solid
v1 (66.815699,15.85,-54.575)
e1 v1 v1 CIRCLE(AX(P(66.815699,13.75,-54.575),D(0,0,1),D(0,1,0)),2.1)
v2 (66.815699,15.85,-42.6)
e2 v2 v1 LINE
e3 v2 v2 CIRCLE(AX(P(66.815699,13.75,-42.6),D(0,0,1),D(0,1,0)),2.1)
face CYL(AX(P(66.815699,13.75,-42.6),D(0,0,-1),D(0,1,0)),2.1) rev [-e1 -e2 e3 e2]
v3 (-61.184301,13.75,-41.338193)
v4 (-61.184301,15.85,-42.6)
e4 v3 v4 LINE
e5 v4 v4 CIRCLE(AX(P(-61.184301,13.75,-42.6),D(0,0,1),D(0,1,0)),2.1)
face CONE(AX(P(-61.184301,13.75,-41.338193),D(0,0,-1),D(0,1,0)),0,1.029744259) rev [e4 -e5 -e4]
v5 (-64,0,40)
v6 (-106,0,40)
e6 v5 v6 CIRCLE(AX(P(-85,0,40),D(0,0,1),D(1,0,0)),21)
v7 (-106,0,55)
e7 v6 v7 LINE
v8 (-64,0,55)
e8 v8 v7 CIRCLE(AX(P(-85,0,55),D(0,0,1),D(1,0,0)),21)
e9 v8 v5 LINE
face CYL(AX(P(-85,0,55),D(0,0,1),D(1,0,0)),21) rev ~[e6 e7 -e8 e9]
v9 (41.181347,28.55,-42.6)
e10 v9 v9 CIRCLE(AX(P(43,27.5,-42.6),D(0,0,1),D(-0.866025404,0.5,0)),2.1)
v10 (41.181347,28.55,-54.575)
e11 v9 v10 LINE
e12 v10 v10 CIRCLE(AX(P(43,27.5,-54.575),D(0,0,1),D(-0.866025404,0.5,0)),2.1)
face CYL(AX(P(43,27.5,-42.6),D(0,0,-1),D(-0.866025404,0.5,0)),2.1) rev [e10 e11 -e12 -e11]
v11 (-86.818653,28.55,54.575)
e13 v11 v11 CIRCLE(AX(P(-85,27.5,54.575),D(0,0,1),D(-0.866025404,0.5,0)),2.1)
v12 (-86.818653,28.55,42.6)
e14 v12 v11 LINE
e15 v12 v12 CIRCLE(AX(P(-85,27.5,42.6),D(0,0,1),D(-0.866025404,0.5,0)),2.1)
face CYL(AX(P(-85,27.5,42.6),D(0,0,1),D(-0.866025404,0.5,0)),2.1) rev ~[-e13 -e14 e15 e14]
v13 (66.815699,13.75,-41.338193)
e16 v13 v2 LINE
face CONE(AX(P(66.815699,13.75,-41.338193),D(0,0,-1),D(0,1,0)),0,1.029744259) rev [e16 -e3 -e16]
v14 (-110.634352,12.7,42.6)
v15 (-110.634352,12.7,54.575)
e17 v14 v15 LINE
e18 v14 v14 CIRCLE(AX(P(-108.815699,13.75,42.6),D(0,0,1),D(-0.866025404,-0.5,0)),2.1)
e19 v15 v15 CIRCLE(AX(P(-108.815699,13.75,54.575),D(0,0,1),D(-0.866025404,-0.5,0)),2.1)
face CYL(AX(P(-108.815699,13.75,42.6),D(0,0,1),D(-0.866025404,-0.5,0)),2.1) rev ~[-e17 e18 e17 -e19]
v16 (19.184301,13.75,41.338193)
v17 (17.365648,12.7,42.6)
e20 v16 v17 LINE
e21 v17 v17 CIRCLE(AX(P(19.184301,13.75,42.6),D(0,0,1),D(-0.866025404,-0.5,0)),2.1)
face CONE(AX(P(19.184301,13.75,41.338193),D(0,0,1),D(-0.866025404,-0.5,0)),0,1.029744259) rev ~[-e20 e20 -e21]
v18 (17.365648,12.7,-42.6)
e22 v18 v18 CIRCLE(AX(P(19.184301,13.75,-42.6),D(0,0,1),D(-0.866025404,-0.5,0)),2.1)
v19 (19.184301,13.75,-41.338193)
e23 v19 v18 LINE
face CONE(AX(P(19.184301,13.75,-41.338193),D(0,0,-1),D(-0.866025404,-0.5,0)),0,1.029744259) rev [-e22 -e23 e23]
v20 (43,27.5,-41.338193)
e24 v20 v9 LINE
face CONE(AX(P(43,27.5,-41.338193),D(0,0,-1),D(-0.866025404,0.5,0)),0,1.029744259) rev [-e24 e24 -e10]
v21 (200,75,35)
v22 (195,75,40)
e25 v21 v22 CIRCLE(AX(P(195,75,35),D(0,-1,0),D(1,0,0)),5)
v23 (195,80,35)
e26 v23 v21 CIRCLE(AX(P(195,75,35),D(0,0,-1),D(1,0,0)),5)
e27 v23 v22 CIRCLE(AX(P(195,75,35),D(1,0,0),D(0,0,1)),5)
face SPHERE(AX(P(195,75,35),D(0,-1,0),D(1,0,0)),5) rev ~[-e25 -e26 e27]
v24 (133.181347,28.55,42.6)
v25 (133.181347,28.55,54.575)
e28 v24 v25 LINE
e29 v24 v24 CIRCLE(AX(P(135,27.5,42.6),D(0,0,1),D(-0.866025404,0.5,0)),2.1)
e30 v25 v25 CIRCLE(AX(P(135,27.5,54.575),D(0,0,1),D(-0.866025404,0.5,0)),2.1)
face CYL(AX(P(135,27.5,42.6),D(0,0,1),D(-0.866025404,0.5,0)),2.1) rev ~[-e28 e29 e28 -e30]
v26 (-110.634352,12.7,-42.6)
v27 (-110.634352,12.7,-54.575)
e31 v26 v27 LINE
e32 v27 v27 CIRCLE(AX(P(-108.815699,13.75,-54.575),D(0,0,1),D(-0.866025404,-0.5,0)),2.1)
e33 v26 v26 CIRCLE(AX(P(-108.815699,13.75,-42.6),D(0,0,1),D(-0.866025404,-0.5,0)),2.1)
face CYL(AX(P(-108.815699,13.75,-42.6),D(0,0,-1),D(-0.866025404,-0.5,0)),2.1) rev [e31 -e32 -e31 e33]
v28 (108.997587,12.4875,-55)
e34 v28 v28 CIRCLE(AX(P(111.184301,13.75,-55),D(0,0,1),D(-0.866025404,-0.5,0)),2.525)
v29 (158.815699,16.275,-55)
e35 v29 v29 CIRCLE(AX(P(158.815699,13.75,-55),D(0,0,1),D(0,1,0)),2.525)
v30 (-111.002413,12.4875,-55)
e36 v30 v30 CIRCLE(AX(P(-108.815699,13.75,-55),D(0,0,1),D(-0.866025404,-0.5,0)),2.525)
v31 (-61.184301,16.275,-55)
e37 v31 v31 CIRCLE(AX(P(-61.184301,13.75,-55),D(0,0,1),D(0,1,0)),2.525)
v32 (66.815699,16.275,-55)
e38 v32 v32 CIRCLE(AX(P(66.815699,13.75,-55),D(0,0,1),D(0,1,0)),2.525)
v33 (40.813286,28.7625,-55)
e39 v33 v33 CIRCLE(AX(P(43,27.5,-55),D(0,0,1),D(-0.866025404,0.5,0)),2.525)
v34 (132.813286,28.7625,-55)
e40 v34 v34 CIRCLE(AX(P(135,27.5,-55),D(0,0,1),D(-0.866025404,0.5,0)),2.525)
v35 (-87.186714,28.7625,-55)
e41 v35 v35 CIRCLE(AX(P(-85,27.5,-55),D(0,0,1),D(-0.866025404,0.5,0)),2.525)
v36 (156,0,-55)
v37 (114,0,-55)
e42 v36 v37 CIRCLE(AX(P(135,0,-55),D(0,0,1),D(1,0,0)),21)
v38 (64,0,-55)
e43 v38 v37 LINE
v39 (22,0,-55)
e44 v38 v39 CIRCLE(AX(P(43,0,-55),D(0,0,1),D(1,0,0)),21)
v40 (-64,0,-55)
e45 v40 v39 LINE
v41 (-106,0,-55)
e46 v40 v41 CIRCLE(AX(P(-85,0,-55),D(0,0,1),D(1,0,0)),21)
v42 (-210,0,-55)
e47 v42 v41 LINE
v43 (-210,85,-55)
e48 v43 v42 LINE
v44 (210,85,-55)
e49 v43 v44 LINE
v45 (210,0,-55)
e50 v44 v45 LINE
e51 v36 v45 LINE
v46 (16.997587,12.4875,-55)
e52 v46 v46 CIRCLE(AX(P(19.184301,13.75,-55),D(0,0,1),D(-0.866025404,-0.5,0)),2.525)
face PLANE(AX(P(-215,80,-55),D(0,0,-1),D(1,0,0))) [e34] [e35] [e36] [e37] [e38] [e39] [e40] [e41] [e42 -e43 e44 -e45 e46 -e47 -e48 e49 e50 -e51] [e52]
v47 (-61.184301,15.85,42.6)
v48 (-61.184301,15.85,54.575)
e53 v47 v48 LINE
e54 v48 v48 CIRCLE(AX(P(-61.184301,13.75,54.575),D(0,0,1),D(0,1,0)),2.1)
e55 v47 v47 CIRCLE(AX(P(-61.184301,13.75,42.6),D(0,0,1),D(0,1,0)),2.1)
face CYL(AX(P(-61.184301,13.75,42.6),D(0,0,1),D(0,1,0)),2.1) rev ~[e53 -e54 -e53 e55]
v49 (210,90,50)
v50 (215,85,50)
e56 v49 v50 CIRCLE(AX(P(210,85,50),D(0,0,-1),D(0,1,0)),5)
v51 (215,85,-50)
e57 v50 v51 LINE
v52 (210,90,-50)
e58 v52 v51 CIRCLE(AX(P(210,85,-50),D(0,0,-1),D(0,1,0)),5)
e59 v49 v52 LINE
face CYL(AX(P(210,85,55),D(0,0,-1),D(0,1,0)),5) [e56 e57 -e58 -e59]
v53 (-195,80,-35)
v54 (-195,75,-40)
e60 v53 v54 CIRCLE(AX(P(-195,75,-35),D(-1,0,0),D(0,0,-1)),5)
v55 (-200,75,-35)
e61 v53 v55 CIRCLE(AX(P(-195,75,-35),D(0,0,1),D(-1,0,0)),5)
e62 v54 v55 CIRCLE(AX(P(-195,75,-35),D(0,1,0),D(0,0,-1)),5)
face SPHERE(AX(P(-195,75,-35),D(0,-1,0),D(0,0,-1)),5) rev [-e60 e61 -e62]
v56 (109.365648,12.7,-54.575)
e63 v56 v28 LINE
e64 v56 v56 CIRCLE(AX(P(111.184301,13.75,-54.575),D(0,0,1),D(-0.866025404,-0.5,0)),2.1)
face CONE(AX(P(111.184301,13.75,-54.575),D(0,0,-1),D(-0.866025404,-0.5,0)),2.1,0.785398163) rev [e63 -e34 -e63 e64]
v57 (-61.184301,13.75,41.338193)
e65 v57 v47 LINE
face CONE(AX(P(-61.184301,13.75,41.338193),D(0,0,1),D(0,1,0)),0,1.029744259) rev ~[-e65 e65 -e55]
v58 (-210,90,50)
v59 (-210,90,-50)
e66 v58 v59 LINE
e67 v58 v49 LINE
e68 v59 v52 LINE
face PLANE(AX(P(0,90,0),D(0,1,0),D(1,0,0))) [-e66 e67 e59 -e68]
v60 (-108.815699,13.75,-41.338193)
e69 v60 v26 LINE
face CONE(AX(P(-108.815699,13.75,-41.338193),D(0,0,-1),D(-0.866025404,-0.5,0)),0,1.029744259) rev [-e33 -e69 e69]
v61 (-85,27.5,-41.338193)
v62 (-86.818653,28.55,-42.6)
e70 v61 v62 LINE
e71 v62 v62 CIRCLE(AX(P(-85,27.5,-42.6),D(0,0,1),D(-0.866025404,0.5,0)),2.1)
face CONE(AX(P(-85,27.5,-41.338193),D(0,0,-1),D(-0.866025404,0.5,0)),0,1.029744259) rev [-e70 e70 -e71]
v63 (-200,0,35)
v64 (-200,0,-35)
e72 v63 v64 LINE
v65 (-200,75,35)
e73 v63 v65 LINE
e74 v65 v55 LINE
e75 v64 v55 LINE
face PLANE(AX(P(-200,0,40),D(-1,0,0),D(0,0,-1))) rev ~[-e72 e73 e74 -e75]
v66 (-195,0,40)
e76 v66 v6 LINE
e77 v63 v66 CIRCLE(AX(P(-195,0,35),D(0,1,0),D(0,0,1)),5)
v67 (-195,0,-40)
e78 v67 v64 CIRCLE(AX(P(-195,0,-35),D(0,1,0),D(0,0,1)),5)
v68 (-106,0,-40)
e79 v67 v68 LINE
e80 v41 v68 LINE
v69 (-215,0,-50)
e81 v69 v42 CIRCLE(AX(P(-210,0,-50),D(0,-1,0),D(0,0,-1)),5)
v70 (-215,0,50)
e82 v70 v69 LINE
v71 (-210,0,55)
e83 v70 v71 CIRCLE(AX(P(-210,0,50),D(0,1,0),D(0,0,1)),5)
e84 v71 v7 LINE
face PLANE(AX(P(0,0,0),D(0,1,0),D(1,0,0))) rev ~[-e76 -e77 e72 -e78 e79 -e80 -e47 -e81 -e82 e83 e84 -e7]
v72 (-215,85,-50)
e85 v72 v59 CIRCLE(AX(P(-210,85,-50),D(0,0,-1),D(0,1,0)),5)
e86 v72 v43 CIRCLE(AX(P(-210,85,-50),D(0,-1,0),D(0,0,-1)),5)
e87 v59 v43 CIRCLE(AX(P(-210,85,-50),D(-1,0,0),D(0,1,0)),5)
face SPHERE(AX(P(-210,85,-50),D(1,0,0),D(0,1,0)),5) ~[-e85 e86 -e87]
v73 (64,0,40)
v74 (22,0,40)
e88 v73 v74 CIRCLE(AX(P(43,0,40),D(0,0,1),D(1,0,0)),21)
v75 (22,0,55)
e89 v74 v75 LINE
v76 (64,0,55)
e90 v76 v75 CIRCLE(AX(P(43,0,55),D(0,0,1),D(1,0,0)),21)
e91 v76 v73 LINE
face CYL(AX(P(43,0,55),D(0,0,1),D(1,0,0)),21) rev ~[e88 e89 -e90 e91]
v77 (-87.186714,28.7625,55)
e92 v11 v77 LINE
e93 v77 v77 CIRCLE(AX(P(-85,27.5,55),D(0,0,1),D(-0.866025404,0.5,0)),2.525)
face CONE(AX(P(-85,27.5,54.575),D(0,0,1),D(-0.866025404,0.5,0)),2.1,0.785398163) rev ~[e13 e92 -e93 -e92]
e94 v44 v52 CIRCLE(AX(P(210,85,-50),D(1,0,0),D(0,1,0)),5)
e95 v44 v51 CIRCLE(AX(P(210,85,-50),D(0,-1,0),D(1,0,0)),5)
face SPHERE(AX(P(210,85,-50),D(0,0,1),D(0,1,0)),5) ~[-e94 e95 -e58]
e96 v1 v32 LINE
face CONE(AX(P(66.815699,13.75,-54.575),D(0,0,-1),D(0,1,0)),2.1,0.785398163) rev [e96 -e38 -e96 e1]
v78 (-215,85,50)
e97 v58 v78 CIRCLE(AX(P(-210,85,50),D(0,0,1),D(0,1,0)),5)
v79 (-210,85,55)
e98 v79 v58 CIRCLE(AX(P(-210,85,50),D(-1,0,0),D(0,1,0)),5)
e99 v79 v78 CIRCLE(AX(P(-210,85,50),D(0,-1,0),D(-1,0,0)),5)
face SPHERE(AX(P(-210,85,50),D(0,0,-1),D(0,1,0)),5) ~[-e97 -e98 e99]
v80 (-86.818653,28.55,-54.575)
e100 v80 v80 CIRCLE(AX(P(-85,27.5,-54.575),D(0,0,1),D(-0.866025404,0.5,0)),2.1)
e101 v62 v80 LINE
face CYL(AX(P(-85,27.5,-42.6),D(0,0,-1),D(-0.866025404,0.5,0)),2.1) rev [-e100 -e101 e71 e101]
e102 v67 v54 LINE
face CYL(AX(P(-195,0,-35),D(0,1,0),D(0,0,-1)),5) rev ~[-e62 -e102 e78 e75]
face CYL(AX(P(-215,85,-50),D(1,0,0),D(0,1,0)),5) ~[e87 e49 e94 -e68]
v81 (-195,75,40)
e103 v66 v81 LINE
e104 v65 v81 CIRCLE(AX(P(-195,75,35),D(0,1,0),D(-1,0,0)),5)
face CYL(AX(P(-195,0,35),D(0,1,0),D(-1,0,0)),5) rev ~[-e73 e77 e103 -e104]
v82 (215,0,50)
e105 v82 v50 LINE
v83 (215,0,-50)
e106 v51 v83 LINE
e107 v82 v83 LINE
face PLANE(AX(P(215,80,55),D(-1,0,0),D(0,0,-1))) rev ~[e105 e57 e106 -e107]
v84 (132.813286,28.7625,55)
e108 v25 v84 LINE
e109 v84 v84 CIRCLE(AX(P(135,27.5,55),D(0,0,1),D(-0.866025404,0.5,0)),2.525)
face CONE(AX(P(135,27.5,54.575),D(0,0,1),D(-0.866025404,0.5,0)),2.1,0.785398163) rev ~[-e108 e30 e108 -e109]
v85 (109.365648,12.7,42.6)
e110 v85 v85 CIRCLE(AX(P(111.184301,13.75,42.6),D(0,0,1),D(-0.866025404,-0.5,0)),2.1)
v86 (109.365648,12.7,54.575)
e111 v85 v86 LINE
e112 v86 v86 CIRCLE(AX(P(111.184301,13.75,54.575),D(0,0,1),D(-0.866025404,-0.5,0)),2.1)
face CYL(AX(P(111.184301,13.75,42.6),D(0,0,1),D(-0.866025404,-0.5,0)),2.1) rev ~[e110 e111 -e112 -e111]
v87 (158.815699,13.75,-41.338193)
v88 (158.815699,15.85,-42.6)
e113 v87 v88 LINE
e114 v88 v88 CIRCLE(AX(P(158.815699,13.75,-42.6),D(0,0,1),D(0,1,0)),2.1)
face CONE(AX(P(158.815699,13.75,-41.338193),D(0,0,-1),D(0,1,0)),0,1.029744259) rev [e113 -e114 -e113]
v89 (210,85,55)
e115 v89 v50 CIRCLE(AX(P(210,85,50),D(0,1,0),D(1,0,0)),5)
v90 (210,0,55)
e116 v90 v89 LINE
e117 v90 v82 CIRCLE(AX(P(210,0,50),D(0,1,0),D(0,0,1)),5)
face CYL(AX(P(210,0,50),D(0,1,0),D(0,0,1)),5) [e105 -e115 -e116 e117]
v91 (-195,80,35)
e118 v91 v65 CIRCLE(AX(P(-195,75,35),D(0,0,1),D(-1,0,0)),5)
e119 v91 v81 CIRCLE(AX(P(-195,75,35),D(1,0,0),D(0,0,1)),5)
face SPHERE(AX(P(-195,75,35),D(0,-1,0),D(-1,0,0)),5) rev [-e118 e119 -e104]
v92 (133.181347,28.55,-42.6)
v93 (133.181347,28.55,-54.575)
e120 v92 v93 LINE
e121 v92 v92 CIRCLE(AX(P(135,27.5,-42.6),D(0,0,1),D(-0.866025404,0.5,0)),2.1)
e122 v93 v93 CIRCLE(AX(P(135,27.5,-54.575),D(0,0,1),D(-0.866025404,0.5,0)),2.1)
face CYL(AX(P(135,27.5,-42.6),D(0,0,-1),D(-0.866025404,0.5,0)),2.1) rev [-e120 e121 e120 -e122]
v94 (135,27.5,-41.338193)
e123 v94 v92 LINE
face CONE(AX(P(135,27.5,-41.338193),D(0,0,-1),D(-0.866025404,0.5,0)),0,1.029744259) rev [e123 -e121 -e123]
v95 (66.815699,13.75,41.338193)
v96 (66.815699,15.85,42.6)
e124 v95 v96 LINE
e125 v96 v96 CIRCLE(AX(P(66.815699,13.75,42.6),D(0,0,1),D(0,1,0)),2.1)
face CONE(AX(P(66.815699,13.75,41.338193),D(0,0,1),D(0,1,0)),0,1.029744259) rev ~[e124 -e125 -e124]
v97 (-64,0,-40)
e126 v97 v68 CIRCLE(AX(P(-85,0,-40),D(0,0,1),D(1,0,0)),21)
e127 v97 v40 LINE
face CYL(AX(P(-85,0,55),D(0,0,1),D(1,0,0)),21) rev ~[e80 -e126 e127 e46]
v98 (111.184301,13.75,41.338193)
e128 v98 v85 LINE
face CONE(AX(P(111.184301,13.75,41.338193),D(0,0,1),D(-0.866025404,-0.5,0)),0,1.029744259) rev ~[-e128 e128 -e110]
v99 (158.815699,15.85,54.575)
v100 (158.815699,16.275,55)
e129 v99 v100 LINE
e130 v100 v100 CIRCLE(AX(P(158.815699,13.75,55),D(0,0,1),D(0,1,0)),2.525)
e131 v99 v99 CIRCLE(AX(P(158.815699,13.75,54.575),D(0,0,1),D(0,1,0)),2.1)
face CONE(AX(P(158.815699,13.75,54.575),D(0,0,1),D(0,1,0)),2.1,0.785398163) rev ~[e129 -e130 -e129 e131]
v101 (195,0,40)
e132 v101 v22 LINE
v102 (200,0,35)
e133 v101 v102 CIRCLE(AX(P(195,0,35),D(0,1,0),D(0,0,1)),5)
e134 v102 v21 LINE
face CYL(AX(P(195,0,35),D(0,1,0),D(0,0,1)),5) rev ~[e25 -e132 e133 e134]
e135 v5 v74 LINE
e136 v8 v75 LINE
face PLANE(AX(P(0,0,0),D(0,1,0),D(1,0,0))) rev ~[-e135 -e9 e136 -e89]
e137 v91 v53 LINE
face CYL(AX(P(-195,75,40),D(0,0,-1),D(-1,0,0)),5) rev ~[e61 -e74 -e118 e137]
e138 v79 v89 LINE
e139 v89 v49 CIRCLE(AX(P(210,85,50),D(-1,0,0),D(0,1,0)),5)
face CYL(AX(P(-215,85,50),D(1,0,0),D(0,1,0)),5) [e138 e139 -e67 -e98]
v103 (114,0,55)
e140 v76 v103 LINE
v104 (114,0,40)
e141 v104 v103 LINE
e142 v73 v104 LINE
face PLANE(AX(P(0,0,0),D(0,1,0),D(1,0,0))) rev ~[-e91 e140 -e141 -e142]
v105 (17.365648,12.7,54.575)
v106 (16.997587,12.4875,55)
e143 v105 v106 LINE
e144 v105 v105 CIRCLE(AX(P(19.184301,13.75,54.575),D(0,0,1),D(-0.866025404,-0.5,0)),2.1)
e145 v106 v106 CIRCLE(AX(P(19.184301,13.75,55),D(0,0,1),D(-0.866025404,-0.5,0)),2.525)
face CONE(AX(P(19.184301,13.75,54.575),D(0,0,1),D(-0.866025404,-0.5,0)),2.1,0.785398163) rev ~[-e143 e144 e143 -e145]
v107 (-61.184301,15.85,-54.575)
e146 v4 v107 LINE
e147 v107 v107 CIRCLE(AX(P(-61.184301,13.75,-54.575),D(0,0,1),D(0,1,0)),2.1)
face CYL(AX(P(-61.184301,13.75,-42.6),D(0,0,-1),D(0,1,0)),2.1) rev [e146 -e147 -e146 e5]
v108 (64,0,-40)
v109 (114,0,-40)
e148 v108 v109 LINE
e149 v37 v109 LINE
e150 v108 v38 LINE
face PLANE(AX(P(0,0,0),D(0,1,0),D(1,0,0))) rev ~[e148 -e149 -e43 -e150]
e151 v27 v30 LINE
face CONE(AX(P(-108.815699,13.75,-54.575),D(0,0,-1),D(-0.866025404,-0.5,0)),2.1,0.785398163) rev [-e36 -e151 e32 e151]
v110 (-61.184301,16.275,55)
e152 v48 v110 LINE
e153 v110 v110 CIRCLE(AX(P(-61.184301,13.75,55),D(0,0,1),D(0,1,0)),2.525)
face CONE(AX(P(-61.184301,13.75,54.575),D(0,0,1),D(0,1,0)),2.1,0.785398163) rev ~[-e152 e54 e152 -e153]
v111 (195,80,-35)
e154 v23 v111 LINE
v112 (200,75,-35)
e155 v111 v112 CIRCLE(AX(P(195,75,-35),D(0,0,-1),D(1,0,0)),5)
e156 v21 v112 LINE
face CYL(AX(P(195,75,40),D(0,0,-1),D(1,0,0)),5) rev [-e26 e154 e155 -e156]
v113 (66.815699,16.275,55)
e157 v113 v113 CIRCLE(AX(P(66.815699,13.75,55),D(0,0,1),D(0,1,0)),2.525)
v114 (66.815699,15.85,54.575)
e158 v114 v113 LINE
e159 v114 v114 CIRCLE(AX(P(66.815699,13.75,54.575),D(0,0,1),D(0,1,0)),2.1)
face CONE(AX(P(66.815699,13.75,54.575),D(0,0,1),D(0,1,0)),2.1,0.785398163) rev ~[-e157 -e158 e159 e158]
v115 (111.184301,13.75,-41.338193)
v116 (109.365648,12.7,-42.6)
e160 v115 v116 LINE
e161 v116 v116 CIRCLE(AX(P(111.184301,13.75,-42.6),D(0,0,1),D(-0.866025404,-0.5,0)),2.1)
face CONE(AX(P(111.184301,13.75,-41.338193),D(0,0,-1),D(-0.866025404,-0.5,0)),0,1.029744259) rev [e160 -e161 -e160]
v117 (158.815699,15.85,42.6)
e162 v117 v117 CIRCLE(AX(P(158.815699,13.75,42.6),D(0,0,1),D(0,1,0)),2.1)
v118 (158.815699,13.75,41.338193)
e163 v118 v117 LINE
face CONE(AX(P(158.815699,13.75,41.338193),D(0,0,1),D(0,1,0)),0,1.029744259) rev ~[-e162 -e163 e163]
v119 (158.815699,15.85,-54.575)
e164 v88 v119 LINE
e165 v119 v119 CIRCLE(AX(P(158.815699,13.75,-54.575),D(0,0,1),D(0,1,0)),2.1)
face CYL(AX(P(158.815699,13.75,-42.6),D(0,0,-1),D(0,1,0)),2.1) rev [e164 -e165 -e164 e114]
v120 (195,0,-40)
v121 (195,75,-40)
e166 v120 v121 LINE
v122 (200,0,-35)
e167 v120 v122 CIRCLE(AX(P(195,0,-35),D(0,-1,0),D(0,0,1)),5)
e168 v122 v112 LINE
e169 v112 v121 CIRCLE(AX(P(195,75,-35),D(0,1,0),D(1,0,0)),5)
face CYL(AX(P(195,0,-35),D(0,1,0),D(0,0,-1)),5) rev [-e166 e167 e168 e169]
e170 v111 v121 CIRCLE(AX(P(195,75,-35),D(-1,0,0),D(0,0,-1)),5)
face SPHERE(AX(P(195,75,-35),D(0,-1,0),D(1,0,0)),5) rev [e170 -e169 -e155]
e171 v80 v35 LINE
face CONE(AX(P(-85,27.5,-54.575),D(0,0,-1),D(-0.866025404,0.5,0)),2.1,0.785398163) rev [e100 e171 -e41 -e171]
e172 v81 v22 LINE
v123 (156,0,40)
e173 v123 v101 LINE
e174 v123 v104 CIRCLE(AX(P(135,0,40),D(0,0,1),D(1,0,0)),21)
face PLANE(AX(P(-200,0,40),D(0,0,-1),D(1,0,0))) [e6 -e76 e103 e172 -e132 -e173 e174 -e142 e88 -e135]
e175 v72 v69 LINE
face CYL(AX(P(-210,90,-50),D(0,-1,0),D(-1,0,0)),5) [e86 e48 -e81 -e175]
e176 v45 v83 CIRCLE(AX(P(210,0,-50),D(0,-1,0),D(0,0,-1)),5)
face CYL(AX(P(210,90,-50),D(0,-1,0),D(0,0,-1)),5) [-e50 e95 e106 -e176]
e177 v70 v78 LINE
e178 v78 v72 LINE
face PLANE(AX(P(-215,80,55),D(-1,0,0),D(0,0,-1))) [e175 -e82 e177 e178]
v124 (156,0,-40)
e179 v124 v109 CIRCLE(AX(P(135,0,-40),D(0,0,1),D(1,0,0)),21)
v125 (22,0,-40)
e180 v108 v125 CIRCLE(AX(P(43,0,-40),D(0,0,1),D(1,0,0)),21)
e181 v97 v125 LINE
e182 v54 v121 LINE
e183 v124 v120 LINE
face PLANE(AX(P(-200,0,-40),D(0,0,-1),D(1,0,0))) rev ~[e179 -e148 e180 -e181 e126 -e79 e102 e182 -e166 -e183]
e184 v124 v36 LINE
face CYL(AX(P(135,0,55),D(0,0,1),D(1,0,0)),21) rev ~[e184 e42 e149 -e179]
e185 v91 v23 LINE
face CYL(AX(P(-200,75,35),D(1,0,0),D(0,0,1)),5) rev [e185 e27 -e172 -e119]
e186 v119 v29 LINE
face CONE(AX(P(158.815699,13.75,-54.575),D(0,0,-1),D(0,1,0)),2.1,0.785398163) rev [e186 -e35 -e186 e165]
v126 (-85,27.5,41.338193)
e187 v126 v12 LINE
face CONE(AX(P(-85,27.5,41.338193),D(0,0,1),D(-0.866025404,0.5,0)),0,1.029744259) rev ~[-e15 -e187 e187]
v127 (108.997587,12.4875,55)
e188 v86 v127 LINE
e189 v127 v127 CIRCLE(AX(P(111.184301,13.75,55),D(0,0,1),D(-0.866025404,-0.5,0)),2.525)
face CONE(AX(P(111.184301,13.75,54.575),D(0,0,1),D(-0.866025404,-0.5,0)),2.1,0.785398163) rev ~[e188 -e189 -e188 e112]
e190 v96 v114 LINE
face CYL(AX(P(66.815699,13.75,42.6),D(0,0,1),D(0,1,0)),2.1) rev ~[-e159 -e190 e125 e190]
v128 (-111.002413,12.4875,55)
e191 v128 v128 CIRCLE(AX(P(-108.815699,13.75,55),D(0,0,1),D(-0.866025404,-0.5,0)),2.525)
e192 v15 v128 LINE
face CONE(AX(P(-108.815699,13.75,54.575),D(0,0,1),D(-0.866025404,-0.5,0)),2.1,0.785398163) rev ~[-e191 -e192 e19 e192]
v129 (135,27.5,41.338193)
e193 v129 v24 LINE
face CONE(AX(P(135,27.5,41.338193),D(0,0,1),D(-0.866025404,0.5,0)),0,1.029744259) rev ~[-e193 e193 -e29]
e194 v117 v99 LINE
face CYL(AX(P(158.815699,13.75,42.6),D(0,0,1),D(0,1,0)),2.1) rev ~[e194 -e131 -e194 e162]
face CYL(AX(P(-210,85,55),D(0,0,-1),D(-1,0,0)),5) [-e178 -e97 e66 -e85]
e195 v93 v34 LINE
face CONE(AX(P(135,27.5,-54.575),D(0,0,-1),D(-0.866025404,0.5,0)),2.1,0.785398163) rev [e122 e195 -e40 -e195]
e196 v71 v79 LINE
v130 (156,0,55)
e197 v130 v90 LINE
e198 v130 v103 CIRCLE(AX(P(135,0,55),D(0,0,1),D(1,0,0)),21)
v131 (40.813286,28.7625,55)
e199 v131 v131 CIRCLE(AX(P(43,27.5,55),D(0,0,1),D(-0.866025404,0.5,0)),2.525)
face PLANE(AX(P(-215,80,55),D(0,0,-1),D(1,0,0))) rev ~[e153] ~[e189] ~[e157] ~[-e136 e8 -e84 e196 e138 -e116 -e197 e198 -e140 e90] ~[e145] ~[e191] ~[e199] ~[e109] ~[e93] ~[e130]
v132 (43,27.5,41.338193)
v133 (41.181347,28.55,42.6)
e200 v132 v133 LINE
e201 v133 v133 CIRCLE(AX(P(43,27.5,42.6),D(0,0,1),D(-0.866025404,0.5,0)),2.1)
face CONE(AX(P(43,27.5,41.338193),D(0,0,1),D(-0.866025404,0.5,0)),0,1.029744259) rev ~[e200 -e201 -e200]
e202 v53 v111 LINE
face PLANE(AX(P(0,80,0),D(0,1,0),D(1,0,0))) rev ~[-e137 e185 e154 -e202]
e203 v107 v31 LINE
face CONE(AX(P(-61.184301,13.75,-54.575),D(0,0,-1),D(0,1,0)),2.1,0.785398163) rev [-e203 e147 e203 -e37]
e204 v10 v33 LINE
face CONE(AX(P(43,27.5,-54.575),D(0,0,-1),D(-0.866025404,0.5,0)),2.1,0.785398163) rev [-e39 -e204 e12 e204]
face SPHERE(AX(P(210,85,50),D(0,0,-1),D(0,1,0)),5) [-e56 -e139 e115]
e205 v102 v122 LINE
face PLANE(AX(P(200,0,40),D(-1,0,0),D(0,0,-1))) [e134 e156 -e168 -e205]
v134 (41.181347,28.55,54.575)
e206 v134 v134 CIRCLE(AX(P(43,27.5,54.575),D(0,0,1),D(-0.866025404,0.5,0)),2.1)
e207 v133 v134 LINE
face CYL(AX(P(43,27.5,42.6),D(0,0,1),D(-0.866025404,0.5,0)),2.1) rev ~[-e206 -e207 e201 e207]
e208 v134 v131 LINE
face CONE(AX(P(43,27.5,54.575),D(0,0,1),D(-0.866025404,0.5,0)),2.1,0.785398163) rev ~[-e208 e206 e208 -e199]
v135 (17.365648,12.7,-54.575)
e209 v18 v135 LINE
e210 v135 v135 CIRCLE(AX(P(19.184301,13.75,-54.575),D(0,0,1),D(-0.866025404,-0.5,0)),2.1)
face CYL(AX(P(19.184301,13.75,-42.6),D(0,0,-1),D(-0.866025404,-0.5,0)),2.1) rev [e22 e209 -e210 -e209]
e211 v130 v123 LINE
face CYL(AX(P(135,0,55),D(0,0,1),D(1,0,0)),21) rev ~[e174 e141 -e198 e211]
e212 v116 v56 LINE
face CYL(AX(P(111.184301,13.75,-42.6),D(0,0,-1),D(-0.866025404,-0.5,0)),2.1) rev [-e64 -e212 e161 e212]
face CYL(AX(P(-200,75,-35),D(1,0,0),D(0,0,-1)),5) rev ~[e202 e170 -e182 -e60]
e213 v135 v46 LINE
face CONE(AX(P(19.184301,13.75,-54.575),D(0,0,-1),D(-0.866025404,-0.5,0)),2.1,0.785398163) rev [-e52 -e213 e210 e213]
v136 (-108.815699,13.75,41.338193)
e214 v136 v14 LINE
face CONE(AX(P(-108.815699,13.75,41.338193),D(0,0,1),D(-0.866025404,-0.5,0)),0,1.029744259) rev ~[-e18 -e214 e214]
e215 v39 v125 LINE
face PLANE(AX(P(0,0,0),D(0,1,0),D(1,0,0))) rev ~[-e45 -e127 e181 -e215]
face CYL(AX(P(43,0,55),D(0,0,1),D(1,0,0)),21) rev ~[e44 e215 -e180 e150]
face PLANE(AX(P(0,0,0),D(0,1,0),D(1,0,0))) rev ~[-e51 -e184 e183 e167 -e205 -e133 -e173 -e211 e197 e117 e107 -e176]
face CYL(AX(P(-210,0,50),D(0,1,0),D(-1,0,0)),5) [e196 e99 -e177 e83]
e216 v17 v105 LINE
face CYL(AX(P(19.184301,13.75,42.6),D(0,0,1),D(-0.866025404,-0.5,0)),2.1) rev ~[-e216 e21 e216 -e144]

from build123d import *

# Parameters (mm, degrees)
SKETCH1_W           = 430
SKETCH1_H           = 110
SKETCH1_W_2         = 400
SKETCH1_H_2         = 80
BOSS_EXTRUDE1_DEPTH = 80
SKETCH2_W           = 430
SKETCH2_H           = 110
BOSS_EXTRUDE2_DEPTH = 10
SKETCH3_R           = 21
CUT_EXTRUDE1_DEPTH  = 196
FILLET1_R           = 5
CIRPATTERN1_COUNT   = 6
CIRPATTERN2_COUNT   = 6
CIRPATTERN3_COUNT   = 6


with BuildPart() as part:
    # Sketch1 → Boss-Extrude1 (new body)
    with BuildSketch(Plane(origin=(0, 0, 0), x_dir=(1, 0, 0), z_dir=(0, 1, 0))):
        Rectangle(SKETCH1_W, SKETCH1_H)
        Rectangle(SKETCH1_W_2, SKETCH1_H_2, mode=Mode.SUBTRACT)
    extrude(amount=BOSS_EXTRUDE1_DEPTH)

    # Sketch2 → Boss-Extrude2 (add)
    with BuildSketch(Plane(origin=(0, 80, 0), x_dir=(1, 0, 0), z_dir=(0, 1, 0))):
        Rectangle(SKETCH2_W, SKETCH2_H)
    extrude(amount=BOSS_EXTRUDE2_DEPTH)

    # Sketch3 → Cut-Extrude1 (cut)
    with BuildSketch(Plane.XY.offset(55)):
        with Locations((135, 0)):
            Circle(SKETCH3_R)
        with Locations((43, 0)):
            Circle(SKETCH3_R)
        with Locations((-85, 0)):
            Circle(SKETCH3_R)
    extrude(amount=-CUT_EXTRUDE1_DEPTH, mode=Mode.SUBTRACT)

    # Fillet1
    fillet1_edges = [part.edges().sort_by_distance(p)[0] for p in [
        (200, 40, 40),
        (200, 40, -40),
        (-200, 40, -40),
        (-200, 40, 40),
        (200, 80, 0),
        (0, 80, -40),
        (-200, 80, 0),
        (0, 80, 40),
        (215, 90, 0),
        (0, 90, -55),
        (-215, 90, 0),
        (0, 90, 55),
        (215, 45, 55),
        (-215, 45, 55),
        (-215, 45, -55),
        (215, 45, -55),
    ]]
    fillet(fillet1_edges, radius=FILLET1_R)

    # Sketch6 → M5 Tapped Hole1 (revolve, cut)
    with BuildSketch(Plane(origin=(158.815698604, 13.75, -55), x_dir=(0, 1, 0), z_dir=(1, 0, 0))):
        Polygon((0, 0), (0, 13.6618073), (2.1, 12.4), (2.1, 0.425), (2.525, 0), align=None)
    m5_tapped_hole1 = revolve(axis=Axis((158.815698604, 13.75, -61.35), (0, 0, 1)), mode=Mode.SUBTRACT)

    # Sketch7 → M5 Tapped Hole2 (revolve, cut)
    with BuildSketch(Plane(origin=(66.815698604, 13.75, -55), x_dir=(0, 1, 0), z_dir=(1, 0, 0))):
        Polygon((0, 0), (0, 13.6618073), (2.1, 12.4), (2.1, 0.425), (2.525, 0), align=None)
    m5_tapped_hole2 = revolve(axis=Axis((66.815698604, 13.75, -61.35), (0, 0, 1)), mode=Mode.SUBTRACT)

    # Sketch10 → M5 Tapped Hole3 (revolve, cut)
    with BuildSketch(Plane(origin=(-61.184301396, 13.75, -55), x_dir=(0, 1, 0), z_dir=(1, 0, 0))):
        Polygon((0, 0), (0, 13.6618073), (2.1, 12.4), (2.1, 0.425), (2.525, 0), align=None)
    m5_tapped_hole3 = revolve(axis=Axis((-61.184301396, 13.75, -61.35), (0, 0, 1)), mode=Mode.SUBTRACT)

    # CirPattern1: M5 Tapped Hole1 ×6 about axis, 3 skipped
    cirpattern1_axis = Axis((135, 0, 0), (0, 0, 1))
    add([m5_tapped_hole1.rotate(cirpattern1_axis, i * 360 / CIRPATTERN1_COUNT) for i in range(1, CIRPATTERN1_COUNT) if i not in (3, 4, 5)], mode=Mode.SUBTRACT)

    # CirPattern2: M5 Tapped Hole2 ×6 about axis, 3 skipped
    cirpattern2_axis = Axis((43, 0, -141), (0, 0, -1))
    add([m5_tapped_hole2.rotate(cirpattern2_axis, i * 360 / CIRPATTERN2_COUNT) for i in range(1, CIRPATTERN2_COUNT) if i not in (1, 2, 3)], mode=Mode.SUBTRACT)

    # CirPattern3: M5 Tapped Hole3 ×6 about axis, 3 skipped
    cirpattern3_axis = Axis((-85, 0, 0), (0, 0, 1))
    add([m5_tapped_hole3.rotate(cirpattern3_axis, i * 360 / CIRPATTERN3_COUNT) for i in range(1, CIRPATTERN3_COUNT) if i not in (3, 4, 5)], mode=Mode.SUBTRACT)

    # Mirror1: M5 Tapped Hole1, M5 Tapped Hole2, M5 Tapped Hole3 across plane
    add(m5_tapped_hole1.mirror(Plane.XY), mode=Mode.SUBTRACT)
    add(m5_tapped_hole2.mirror(Plane.XY), mode=Mode.SUBTRACT)
    add(m5_tapped_hole3.mirror(Plane.XY), mode=Mode.SUBTRACT)

    # Mirror1 copy 1 sketch → Mirror1 copy 1 (revolve, cut)
    with BuildSketch(Plane(origin=(135, 27.5, 55), x_dir=(-0.866025404, 0.5, 0), z_dir=(0.5, 0.866025404, 0))):
        Polygon((0, 0), (0, -13.6618073), (2.1, -12.4), (2.1, -0.425), (2.525, 0), align=None)
    revolve(axis=Axis((135, 27.5, 61.35), (0, 0, 1)), mode=Mode.SUBTRACT)

    # Mirror1 copy 2 sketch → Mirror1 copy 2 (revolve, cut)
    with BuildSketch(Plane(origin=(111.184301396, 13.75, 55), x_dir=(-0.866025404, -0.5, 0), z_dir=(-0.5, 0.866025404, 0))):
        Polygon((0, 0), (0, -13.6618073), (2.1, -12.4), (2.1, -0.425), (2.525, 0), align=None)
    revolve(axis=Axis((111.184301396, 13.75, 61.35), (0, 0, 1)), mode=Mode.SUBTRACT)

    # Mirror1 copy 3 sketch → Mirror1 copy 3 (revolve, cut)
    with BuildSketch(Plane(origin=(19.184301396, 13.75, 55), x_dir=(-0.866025404, -0.5, 0), z_dir=(-0.5, 0.866025404, 0))):
        Polygon((0, 0), (0, -13.6618073), (2.1, -12.4), (2.1, -0.425), (2.525, 0), align=None)
    revolve(axis=Axis((19.184301396, 13.75, 61.35), (0, 0, 1)), mode=Mode.SUBTRACT)

    # Mirror1 copy 4 sketch → Mirror1 copy 4 (revolve, cut)
    with BuildSketch(Plane(origin=(43, 27.5, 55), x_dir=(-0.866025404, 0.5, 0), z_dir=(0.5, 0.866025404, 0))):
        Polygon((0, 0), (0, -13.6618073), (2.1, -12.4), (2.1, -0.425), (2.525, 0), align=None)
    revolve(axis=Axis((43, 27.5, 61.35), (0, 0, 1)), mode=Mode.SUBTRACT)

    # Mirror1 copy 5 sketch → Mirror1 copy 5 (revolve, cut)
    with BuildSketch(Plane(origin=(-85, 27.5, 55), x_dir=(-0.866025404, 0.5, 0), z_dir=(0.5, 0.866025404, 0))):
        Polygon((0, 0), (0, -13.6618073), (2.1, -12.4), (2.1, -0.425), (2.525, 0), align=None)
    revolve(axis=Axis((-85, 27.5, 61.35), (0, 0, 1)), mode=Mode.SUBTRACT)

    # Mirror1 copy 6 sketch → Mirror1 copy 6 (revolve, cut)
    with BuildSketch(Plane(origin=(-108.815698604, 13.75, 55), x_dir=(-0.866025404, -0.5, 0), z_dir=(-0.5, 0.866025404, 0))):
        Polygon((0, 0), (0, -13.6618073), (2.1, -12.4), (2.1, -0.425), (2.525, 0), align=None)
    revolve(axis=Axis((-108.815698604, 13.75, 61.35), (0, 0, 1)), mode=Mode.SUBTRACT)


solid = part.part
